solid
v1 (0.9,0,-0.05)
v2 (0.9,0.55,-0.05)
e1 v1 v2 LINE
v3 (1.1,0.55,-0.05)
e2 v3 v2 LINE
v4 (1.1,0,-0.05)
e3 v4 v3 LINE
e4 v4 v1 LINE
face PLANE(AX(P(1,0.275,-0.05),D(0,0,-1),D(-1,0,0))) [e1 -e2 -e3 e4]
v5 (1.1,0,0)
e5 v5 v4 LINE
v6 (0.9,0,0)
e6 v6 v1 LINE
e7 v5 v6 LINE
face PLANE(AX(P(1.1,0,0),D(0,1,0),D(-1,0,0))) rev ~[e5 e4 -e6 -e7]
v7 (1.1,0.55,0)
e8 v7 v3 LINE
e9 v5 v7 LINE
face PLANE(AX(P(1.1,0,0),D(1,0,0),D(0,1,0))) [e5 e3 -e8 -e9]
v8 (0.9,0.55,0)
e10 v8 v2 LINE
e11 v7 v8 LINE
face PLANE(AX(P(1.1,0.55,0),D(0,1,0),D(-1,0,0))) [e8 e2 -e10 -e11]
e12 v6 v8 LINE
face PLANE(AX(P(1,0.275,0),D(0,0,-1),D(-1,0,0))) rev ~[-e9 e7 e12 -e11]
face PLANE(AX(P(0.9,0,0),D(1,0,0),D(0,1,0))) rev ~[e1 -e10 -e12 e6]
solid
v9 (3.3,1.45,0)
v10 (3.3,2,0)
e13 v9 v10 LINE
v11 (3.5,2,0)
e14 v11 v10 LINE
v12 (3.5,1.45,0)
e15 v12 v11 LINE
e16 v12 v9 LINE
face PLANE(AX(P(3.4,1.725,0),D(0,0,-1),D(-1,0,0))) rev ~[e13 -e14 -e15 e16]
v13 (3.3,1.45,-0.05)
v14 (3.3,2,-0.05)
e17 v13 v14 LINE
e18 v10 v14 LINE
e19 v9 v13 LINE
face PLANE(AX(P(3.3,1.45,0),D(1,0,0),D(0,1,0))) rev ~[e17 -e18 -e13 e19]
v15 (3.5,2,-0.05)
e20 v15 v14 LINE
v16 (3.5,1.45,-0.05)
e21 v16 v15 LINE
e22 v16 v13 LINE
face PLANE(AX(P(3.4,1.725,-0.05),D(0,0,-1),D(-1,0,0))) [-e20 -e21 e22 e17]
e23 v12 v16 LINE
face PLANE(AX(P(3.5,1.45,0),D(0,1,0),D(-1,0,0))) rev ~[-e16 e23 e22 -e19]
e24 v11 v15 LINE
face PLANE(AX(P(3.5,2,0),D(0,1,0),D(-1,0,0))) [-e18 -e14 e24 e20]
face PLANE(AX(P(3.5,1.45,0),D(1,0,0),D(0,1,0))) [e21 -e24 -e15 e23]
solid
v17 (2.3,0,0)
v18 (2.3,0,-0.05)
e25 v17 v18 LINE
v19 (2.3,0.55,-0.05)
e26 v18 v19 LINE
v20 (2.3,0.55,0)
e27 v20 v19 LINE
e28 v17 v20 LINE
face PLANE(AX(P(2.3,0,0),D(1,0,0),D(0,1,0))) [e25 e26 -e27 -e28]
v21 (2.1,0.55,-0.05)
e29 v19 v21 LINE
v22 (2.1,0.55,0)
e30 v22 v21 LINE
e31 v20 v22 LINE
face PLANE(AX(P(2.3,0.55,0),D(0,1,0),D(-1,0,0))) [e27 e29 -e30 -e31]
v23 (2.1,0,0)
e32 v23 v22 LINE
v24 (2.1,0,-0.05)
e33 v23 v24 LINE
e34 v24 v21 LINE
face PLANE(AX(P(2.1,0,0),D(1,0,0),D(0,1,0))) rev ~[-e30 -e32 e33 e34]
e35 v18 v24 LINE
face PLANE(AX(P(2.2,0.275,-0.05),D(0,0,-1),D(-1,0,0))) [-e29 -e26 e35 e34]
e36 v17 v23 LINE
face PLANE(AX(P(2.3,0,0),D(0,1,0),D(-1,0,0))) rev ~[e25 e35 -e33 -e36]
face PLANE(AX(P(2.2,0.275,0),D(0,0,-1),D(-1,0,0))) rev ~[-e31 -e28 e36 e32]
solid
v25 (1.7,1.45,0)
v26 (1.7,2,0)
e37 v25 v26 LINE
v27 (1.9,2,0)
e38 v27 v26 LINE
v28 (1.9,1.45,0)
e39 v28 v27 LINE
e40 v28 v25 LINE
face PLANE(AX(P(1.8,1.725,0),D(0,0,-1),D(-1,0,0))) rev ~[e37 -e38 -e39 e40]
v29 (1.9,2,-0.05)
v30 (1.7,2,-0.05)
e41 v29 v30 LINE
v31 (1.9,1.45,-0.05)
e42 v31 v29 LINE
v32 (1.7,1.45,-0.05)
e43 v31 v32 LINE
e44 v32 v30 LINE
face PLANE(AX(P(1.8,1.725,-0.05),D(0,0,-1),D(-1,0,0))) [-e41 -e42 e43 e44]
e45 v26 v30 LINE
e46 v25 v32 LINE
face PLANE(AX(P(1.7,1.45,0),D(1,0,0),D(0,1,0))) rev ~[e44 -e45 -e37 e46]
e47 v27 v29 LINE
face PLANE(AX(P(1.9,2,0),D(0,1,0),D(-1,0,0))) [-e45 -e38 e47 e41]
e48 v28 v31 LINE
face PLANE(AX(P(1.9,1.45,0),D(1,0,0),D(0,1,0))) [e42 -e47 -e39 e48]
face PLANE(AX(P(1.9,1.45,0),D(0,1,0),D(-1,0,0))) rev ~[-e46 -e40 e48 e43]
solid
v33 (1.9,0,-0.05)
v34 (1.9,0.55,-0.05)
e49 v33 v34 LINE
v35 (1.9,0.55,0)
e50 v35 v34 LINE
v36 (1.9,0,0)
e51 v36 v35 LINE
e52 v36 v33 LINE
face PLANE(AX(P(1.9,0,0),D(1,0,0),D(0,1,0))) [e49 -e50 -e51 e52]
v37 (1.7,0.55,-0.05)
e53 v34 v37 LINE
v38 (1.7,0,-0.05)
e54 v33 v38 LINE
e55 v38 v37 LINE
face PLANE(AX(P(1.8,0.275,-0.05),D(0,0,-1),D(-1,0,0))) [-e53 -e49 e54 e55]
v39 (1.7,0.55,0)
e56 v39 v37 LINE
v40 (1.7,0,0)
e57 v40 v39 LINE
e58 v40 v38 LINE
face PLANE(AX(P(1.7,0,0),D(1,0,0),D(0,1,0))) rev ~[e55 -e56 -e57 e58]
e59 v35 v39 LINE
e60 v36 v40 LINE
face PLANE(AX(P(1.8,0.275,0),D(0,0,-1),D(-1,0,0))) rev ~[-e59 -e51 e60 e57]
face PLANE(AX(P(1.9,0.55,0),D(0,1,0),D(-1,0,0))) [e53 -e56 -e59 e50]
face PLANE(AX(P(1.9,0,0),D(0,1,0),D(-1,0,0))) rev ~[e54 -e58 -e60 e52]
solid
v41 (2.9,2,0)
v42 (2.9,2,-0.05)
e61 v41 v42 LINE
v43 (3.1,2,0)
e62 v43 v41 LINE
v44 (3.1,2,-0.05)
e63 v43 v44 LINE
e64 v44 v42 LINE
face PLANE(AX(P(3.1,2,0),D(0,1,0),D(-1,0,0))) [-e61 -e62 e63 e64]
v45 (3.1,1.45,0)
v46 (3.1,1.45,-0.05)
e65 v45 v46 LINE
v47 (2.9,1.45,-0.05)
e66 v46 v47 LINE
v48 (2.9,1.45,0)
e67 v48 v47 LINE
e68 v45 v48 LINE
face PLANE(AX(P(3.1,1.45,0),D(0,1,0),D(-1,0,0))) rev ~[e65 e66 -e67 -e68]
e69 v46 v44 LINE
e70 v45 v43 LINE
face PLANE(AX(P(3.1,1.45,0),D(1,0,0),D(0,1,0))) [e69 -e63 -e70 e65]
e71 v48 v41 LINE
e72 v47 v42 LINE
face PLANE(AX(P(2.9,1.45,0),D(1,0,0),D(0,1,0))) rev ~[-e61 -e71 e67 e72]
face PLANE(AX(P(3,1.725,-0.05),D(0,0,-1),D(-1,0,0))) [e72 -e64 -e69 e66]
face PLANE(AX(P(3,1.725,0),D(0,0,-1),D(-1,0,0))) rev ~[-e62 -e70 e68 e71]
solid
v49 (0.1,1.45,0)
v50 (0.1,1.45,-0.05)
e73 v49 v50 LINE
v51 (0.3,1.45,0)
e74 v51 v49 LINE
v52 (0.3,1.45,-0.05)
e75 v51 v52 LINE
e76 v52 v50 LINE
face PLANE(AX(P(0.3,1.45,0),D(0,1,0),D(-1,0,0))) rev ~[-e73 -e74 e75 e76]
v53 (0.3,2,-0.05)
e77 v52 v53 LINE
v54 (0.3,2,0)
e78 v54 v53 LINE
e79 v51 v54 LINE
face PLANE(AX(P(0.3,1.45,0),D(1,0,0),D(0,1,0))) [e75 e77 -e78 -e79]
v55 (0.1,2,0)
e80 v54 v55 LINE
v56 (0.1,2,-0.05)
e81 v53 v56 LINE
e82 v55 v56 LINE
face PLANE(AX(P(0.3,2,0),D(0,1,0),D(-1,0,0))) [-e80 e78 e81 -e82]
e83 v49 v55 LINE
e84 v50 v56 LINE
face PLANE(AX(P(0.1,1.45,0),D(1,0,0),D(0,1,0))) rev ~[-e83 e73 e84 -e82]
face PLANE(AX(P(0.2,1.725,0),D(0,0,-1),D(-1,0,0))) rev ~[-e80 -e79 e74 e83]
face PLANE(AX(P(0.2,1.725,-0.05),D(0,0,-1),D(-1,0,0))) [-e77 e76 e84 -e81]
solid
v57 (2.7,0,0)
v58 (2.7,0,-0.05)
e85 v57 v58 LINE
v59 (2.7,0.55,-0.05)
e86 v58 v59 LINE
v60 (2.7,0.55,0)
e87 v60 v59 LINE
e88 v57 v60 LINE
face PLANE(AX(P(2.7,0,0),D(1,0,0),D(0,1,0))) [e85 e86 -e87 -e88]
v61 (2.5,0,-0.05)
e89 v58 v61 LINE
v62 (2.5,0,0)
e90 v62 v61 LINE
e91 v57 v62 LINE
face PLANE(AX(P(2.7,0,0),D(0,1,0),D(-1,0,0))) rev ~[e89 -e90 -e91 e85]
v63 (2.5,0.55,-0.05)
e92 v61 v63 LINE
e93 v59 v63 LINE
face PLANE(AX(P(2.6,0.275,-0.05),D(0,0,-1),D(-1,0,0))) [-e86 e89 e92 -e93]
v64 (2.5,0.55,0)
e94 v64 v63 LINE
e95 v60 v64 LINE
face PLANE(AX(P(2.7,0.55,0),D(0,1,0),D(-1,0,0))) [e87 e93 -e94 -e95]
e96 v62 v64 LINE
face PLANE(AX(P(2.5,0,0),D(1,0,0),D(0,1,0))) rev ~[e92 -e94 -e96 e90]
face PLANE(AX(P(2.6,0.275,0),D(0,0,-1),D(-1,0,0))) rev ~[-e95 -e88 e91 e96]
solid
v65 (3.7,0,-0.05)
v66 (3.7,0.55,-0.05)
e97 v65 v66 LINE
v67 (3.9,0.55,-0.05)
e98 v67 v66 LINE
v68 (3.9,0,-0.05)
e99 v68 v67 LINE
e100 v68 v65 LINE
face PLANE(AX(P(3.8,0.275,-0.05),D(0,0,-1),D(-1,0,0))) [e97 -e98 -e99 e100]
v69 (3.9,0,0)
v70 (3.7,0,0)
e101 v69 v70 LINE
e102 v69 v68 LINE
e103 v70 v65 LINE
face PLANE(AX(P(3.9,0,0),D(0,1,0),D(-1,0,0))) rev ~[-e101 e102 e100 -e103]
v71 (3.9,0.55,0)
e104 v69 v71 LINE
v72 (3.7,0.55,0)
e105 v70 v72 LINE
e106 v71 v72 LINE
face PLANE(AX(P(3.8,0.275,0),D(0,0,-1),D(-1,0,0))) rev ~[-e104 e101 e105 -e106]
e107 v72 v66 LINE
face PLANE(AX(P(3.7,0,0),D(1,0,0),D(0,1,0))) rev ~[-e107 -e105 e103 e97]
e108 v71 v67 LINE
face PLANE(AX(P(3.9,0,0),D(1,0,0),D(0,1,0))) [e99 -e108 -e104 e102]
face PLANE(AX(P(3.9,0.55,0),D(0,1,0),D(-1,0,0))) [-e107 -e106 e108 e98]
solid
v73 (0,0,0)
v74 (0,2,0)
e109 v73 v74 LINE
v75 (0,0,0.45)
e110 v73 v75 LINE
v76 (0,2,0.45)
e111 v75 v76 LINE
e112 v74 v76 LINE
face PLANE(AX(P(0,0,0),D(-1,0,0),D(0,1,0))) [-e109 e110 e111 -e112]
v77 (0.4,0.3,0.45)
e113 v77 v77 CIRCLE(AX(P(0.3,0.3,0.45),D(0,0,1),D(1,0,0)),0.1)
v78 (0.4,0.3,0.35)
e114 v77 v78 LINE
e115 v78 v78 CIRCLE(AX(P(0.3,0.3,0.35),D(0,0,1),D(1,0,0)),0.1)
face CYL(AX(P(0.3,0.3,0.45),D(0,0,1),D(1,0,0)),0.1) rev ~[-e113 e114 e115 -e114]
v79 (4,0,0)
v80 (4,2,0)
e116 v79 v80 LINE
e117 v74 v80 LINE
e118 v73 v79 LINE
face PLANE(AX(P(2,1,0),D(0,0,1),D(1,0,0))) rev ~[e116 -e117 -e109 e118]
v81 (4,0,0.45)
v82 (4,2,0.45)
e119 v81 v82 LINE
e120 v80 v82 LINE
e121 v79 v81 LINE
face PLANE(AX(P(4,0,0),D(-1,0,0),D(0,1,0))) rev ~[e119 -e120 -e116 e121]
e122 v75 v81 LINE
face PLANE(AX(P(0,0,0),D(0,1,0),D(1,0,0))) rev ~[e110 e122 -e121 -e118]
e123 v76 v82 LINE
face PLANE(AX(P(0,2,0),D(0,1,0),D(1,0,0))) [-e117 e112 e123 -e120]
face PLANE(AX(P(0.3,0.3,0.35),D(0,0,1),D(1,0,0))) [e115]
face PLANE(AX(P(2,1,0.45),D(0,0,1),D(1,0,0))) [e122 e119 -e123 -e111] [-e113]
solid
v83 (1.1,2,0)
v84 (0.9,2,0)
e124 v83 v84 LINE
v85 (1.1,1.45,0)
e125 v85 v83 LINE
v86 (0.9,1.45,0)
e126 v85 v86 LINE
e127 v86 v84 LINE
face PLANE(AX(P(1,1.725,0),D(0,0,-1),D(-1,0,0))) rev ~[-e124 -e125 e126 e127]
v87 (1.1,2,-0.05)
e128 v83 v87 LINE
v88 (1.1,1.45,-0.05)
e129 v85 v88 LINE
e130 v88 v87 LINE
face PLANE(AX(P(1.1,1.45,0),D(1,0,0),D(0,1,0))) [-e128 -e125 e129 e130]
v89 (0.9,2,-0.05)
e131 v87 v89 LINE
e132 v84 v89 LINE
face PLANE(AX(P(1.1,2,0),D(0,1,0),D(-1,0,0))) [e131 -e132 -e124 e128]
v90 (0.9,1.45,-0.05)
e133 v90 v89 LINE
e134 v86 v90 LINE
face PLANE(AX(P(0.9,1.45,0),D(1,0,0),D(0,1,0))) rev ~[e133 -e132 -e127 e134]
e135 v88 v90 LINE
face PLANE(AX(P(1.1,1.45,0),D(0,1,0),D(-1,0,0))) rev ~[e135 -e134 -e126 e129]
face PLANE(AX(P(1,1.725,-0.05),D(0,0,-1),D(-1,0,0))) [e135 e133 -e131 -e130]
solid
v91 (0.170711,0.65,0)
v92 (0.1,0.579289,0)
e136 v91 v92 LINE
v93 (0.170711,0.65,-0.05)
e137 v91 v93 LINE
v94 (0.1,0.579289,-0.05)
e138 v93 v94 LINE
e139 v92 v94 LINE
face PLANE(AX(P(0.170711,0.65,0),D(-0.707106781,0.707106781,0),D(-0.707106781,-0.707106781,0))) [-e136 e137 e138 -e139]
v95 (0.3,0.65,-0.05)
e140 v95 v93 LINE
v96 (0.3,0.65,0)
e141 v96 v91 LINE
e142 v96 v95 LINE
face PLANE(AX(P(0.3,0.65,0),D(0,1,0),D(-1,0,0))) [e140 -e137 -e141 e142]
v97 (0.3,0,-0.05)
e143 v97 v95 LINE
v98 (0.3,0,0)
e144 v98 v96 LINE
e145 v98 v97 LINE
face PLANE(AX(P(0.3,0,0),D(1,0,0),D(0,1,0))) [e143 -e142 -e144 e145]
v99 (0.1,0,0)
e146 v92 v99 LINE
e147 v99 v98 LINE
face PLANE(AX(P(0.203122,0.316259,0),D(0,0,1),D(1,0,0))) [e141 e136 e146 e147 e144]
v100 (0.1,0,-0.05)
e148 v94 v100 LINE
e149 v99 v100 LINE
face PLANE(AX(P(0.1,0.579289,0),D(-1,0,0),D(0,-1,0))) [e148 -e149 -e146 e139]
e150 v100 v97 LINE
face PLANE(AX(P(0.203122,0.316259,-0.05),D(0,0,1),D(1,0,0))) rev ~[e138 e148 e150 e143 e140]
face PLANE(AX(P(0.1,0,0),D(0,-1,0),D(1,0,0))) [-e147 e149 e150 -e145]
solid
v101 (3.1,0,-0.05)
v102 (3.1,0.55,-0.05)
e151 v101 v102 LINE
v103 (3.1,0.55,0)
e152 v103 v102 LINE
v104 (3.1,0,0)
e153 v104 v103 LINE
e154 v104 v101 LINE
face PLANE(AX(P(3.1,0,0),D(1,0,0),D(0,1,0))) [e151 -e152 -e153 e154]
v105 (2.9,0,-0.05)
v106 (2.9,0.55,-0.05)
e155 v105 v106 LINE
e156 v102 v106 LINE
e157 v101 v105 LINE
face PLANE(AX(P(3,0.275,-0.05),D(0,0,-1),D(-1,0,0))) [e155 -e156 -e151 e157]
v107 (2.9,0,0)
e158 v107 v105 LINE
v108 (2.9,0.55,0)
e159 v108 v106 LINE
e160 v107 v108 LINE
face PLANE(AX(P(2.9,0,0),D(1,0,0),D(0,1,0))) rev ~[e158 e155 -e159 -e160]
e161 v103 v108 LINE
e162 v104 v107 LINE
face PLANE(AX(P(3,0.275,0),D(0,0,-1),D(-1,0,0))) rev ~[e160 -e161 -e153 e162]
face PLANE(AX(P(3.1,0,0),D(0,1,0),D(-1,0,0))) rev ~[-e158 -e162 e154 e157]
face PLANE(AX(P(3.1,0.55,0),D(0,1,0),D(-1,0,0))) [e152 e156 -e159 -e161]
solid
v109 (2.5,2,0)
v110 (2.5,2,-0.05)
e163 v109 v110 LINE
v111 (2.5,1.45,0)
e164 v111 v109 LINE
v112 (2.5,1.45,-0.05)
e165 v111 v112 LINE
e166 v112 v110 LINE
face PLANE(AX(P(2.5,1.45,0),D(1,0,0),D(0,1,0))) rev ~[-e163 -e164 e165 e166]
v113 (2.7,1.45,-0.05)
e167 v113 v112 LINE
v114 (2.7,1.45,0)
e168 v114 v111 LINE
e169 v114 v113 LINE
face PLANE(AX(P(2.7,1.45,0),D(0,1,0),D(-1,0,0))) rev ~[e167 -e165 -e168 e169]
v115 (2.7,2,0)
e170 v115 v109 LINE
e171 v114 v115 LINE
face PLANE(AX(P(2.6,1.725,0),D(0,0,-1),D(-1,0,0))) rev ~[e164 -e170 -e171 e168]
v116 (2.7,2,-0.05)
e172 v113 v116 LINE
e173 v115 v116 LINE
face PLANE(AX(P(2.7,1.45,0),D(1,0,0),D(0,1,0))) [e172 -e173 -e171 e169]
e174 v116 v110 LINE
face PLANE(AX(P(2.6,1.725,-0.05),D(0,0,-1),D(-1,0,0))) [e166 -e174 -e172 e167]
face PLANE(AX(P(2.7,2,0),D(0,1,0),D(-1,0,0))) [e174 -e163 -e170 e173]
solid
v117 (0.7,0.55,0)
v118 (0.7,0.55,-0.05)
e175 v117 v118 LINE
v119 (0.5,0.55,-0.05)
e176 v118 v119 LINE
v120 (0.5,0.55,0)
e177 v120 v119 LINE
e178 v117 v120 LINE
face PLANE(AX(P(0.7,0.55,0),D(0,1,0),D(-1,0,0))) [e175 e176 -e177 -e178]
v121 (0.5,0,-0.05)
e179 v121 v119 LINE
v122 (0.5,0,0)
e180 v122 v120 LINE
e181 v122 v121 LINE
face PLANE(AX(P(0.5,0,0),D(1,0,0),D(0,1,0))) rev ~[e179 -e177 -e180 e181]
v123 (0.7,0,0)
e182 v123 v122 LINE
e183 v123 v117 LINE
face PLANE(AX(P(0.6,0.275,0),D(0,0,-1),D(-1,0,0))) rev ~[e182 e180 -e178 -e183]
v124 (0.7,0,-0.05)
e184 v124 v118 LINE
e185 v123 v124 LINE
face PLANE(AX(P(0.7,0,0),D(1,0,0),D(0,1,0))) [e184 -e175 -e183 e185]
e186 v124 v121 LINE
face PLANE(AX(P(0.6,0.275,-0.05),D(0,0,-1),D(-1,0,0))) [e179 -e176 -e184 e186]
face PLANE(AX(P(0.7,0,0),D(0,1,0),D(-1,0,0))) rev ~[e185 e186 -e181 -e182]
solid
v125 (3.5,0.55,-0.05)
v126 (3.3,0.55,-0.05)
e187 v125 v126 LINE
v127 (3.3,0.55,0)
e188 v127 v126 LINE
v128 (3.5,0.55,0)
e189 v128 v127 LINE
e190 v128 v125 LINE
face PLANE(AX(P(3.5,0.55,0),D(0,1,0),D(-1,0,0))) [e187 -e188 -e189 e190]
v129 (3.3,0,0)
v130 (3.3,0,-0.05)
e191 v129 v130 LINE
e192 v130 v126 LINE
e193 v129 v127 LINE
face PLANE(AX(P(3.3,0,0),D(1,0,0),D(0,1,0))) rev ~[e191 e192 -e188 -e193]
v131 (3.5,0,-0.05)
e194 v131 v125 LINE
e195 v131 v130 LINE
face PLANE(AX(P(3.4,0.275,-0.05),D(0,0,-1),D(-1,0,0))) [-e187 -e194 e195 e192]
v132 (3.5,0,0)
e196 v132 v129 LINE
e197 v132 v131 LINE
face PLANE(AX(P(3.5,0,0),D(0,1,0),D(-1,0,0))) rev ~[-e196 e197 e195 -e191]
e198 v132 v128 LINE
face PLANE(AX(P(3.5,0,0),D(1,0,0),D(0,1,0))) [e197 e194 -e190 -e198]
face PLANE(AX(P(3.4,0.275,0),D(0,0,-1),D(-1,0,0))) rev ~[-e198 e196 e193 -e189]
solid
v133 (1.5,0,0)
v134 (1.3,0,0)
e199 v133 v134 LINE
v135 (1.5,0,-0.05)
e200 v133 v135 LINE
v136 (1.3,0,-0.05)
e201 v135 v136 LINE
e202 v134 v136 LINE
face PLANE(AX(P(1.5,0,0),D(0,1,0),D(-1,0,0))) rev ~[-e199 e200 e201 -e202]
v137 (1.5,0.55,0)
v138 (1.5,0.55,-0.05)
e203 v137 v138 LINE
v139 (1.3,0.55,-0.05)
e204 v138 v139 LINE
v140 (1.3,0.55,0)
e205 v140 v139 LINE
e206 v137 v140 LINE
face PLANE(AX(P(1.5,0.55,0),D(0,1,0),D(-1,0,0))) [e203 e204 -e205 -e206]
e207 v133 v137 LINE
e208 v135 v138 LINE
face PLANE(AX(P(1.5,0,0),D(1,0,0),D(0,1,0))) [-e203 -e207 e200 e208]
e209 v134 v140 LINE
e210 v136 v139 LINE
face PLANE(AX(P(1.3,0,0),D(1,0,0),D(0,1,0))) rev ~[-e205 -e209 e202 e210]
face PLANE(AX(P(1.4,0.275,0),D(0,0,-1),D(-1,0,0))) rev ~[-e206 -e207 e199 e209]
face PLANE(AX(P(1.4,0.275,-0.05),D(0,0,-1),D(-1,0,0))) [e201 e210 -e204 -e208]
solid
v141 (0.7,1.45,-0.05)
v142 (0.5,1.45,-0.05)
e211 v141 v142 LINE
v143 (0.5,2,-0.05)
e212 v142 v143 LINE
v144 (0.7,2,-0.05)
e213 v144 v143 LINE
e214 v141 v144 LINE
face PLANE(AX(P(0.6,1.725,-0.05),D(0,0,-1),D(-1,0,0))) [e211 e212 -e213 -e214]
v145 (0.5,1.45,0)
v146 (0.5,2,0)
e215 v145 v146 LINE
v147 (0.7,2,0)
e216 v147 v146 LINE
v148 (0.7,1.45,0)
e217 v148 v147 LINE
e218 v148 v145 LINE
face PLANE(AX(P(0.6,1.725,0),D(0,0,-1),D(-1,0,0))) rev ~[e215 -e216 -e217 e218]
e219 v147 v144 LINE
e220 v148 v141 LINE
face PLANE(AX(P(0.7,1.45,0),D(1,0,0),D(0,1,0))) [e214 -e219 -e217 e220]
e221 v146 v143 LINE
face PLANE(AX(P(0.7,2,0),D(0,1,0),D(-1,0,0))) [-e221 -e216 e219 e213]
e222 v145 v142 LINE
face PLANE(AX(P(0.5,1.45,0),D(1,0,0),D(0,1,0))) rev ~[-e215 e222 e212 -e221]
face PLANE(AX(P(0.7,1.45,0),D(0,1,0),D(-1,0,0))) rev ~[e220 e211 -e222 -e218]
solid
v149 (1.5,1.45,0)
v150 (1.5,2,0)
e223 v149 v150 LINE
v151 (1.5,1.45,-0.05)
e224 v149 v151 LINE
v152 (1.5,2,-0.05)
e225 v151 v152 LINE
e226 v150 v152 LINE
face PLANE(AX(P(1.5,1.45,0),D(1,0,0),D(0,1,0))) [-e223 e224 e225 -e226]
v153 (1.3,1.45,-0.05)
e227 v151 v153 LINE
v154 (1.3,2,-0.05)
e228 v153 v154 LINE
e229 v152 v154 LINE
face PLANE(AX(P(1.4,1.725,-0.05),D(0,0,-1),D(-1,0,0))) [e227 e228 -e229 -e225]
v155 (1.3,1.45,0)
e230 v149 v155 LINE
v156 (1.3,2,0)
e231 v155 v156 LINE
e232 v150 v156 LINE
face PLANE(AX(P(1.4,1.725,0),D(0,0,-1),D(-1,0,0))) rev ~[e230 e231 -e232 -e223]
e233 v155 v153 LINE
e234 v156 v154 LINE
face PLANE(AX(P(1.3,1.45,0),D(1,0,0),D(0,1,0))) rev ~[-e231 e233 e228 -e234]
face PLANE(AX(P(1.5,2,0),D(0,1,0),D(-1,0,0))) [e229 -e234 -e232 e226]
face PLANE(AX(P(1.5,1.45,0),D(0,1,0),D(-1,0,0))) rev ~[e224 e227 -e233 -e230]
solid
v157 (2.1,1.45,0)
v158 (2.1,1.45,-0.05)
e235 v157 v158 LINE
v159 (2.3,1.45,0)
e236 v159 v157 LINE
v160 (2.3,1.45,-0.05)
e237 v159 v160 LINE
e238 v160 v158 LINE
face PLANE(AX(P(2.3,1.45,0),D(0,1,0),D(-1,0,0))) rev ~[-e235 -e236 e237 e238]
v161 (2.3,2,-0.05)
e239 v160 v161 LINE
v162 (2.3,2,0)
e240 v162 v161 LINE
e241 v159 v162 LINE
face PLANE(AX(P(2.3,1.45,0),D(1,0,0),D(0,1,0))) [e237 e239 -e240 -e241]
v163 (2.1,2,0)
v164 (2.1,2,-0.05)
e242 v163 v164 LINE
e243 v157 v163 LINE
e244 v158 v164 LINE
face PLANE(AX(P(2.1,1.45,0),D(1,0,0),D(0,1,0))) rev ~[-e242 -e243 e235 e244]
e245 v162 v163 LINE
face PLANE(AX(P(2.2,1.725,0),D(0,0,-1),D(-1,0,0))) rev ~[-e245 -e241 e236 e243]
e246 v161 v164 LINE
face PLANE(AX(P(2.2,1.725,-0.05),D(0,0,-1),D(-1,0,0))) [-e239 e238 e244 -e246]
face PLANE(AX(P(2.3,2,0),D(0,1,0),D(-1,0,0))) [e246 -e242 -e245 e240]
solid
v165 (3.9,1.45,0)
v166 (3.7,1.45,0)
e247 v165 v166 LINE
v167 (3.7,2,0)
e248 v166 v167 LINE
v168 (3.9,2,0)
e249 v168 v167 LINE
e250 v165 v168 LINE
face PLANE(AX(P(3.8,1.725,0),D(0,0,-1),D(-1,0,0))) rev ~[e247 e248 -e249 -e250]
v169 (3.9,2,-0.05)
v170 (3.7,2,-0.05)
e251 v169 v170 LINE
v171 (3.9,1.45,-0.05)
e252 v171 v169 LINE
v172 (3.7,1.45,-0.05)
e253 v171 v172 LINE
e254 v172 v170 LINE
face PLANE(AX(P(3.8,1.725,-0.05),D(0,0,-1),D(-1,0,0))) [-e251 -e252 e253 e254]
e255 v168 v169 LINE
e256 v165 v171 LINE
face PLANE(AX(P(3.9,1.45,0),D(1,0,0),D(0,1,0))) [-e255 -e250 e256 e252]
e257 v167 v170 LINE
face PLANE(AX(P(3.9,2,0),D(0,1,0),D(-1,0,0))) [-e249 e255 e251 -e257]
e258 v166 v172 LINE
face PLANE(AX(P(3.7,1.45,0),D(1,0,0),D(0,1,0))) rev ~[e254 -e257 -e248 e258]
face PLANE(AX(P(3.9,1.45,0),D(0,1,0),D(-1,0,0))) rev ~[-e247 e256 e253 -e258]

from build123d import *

# Parameters (mm, degrees)
SKETCH1_W              = 4
SKETCH1_H              = 2
BOSS_EXTRUDE1_DEPTH    = 0.45
SKETCH2_W              = 0.2
SKETCH2_H              = 0.55
BOSS_EXTRUDE2_DEPTH    = 0.05
BOSS_EXTRUDE2_2_DEPTH  = 0.05
BOSS_EXTRUDE2_3_DEPTH  = 0.05
BOSS_EXTRUDE2_4_DEPTH  = 0.05
BOSS_EXTRUDE2_5_DEPTH  = 0.05
BOSS_EXTRUDE2_6_DEPTH  = 0.05
BOSS_EXTRUDE2_7_DEPTH  = 0.05
BOSS_EXTRUDE2_8_DEPTH  = 0.05
BOSS_EXTRUDE2_9_DEPTH  = 0.05
BOSS_EXTRUDE2_10_DEPTH = 0.05
BOSS_EXTRUDE2_11_DEPTH = 0.05
BOSS_EXTRUDE2_12_DEPTH = 0.05
BOSS_EXTRUDE2_13_DEPTH = 0.05
BOSS_EXTRUDE2_14_DEPTH = 0.05
BOSS_EXTRUDE2_15_DEPTH = 0.05
BOSS_EXTRUDE2_16_DEPTH = 0.05
BOSS_EXTRUDE2_17_DEPTH = 0.05
BOSS_EXTRUDE2_18_DEPTH = 0.05
BOSS_EXTRUDE2_19_DEPTH = 0.05
BOSS_EXTRUDE2_20_DEPTH = 0.05
SKETCH3_R              = 0.1
CUT_EXTRUDE1_DEPTH     = 0.1


with BuildPart() as part:
    # Sketch1 → Boss-Extrude1 (new body)
    with BuildSketch(Plane.XY):
        with Locations((2, 1)):
            Rectangle(SKETCH1_W, SKETCH1_H)
    extrude(amount=BOSS_EXTRUDE1_DEPTH)

    # Sketch3 → Cut-Extrude1 (cut)
    with BuildSketch(Plane.XY.offset(0.45)):
        with Locations((0.3, 0.3)):
            Circle(SKETCH3_R)
    extrude(amount=-CUT_EXTRUDE1_DEPTH, mode=Mode.SUBTRACT)


with BuildPart() as body_2:
    # Sketch2 → Boss-Extrude2 (new body)
    with BuildSketch(Plane(origin=(0, 0, 0), x_dir=(-1, 0, 0), z_dir=(0, 0, -1))):
        with Locations((-3.8, 1.725)):
            Rectangle(SKETCH2_W, SKETCH2_H)
    extrude(amount=BOSS_EXTRUDE2_DEPTH)


with BuildPart() as body_3:
    # Sketch2 → Boss-Extrude2 2 (new body)
    with BuildSketch(Plane(origin=(0, 0, 0), x_dir=(-1, 0, 0), z_dir=(0, 0, -1))):
        with Locations((-3.4, 1.725)):
            Rectangle(SKETCH2_W, SKETCH2_H)
    extrude(amount=BOSS_EXTRUDE2_2_DEPTH)


with BuildPart() as body_4:
    # Sketch2 → Boss-Extrude2 3 (new body)
    with BuildSketch(Plane(origin=(0, 0, 0), x_dir=(-1, 0, 0), z_dir=(0, 0, -1))):
        with Locations((-3, 1.725)):
            Rectangle(SKETCH2_W, SKETCH2_H)
    extrude(amount=BOSS_EXTRUDE2_3_DEPTH)


with BuildPart() as body_5:
    # Sketch2 → Boss-Extrude2 4 (new body)
    with BuildSketch(Plane(origin=(0, 0, 0), x_dir=(-1, 0, 0), z_dir=(0, 0, -1))):
        with Locations((-2.6, 1.725)):
            Rectangle(SKETCH2_W, SKETCH2_H)
    extrude(amount=BOSS_EXTRUDE2_4_DEPTH)


with BuildPart() as body_6:
    # Sketch2 → Boss-Extrude2 5 (new body)
    with BuildSketch(Plane(origin=(0, 0, 0), x_dir=(-1, 0, 0), z_dir=(0, 0, -1))):
        with Locations((-2.2, 1.725)):
            Rectangle(SKETCH2_W, SKETCH2_H)
    extrude(amount=BOSS_EXTRUDE2_5_DEPTH)


with BuildPart() as body_7:
    # Sketch2 → Boss-Extrude2 6 (new body)
    with BuildSketch(Plane(origin=(0, 0, 0), x_dir=(-1, 0, 0), z_dir=(0, 0, -1))):
        with Locations((-1.8, 1.725)):
            Rectangle(SKETCH2_W, SKETCH2_H)
    extrude(amount=BOSS_EXTRUDE2_6_DEPTH)


with BuildPart() as body_8:
    # Sketch2 → Boss-Extrude2 7 (new body)
    with BuildSketch(Plane(origin=(0, 0, 0), x_dir=(-1, 0, 0), z_dir=(0, 0, -1))):
        with Locations((-1.4, 1.725)):
            Rectangle(SKETCH2_W, SKETCH2_H)
    extrude(amount=BOSS_EXTRUDE2_7_DEPTH)


with BuildPart() as body_9:
    # Sketch2 → Boss-Extrude2 8 (new body)
    with BuildSketch(Plane(origin=(0, 0, 0), x_dir=(-1, 0, 0), z_dir=(0, 0, -1))):
        with Locations((-1, 1.725)):
            Rectangle(SKETCH2_W, SKETCH2_H)
    extrude(amount=BOSS_EXTRUDE2_8_DEPTH)


with BuildPart() as body_10:
    # Sketch2 → Boss-Extrude2 9 (new body)
    with BuildSketch(Plane(origin=(0, 0, 0), x_dir=(-1, 0, 0), z_dir=(0, 0, -1))):
        with Locations((-0.6, 1.725)):
            Rectangle(SKETCH2_W, SKETCH2_H)
    extrude(amount=BOSS_EXTRUDE2_9_DEPTH)


with BuildPart() as body_11:
    # Sketch2 → Boss-Extrude2 10 (new body)
    with BuildSketch(Plane(origin=(0, 0, 0), x_dir=(-1, 0, 0), z_dir=(0, 0, -1))):
        with Locations((-0.2, 1.725)):
            Rectangle(SKETCH2_W, SKETCH2_H)
    extrude(amount=BOSS_EXTRUDE2_10_DEPTH)


with BuildPart() as body_12:
    # Sketch2 → Boss-Extrude2 11 (new body)
    with BuildSketch(Plane(origin=(0, 0, 0), x_dir=(-1, 0, 0), z_dir=(0, 0, -1))):
        Polygon((-0.3, 0), (-0.3, 0.65), (-0.170710678, 0.65), (-0.1, 0.579289322), (-0.1, 0), align=None)
    extrude(amount=BOSS_EXTRUDE2_11_DEPTH)


with BuildPart() as body_13:
    # Sketch2 → Boss-Extrude2 12 (new body)
    with BuildSketch(Plane(origin=(0, 0, 0), x_dir=(-1, 0, 0), z_dir=(0, 0, -1))):
        with Locations((-0.6, 0.275)):
            Rectangle(SKETCH2_W, SKETCH2_H)
    extrude(amount=BOSS_EXTRUDE2_12_DEPTH)


with BuildPart() as body_14:
    # Sketch2 → Boss-Extrude2 13 (new body)
    with BuildSketch(Plane(origin=(0, 0, 0), x_dir=(-1, 0, 0), z_dir=(0, 0, -1))):
        with Locations((-1, 0.275)):
            Rectangle(SKETCH2_W, SKETCH2_H)
    extrude(amount=BOSS_EXTRUDE2_13_DEPTH)


with BuildPart() as body_15:
    # Sketch2 → Boss-Extrude2 14 (new body)
    with BuildSketch(Plane(origin=(0, 0, 0), x_dir=(-1, 0, 0), z_dir=(0, 0, -1))):
        with Locations((-1.4, 0.275)):
            Rectangle(SKETCH2_W, SKETCH2_H)
    extrude(amount=BOSS_EXTRUDE2_14_DEPTH)


with BuildPart() as body_16:
    # Sketch2 → Boss-Extrude2 15 (new body)
    with BuildSketch(Plane(origin=(0, 0, 0), x_dir=(-1, 0, 0), z_dir=(0, 0, -1))):
        with Locations((-1.8, 0.275)):
            Rectangle(SKETCH2_W, SKETCH2_H)
    extrude(amount=BOSS_EXTRUDE2_15_DEPTH)


with BuildPart() as body_17:
    # Sketch2 → Boss-Extrude2 16 (new body)
    with BuildSketch(Plane(origin=(0, 0, 0), x_dir=(-1, 0, 0), z_dir=(0, 0, -1))):
        with Locations((-2.2, 0.275)):
            Rectangle(SKETCH2_W, SKETCH2_H)
    extrude(amount=BOSS_EXTRUDE2_16_DEPTH)


with BuildPart() as body_18:
    # Sketch2 → Boss-Extrude2 17 (new body)
    with BuildSketch(Plane(origin=(0, 0, 0), x_dir=(-1, 0, 0), z_dir=(0, 0, -1))):
        with Locations((-2.6, 0.275)):
            Rectangle(SKETCH2_W, SKETCH2_H)
    extrude(amount=BOSS_EXTRUDE2_17_DEPTH)


with BuildPart() as body_19:
    # Sketch2 → Boss-Extrude2 18 (new body)
    with BuildSketch(Plane(origin=(0, 0, 0), x_dir=(-1, 0, 0), z_dir=(0, 0, -1))):
        with Locations((-3, 0.275)):
            Rectangle(SKETCH2_W, SKETCH2_H)
    extrude(amount=BOSS_EXTRUDE2_18_DEPTH)


with BuildPart() as body_20:
    # Sketch2 → Boss-Extrude2 19 (new body)
    with BuildSketch(Plane(origin=(0, 0, 0), x_dir=(-1, 0, 0), z_dir=(0, 0, -1))):
        with Locations((-3.4, 0.275)):
            Rectangle(SKETCH2_W, SKETCH2_H)
    extrude(amount=BOSS_EXTRUDE2_19_DEPTH)


with BuildPart() as body_21:
    # Sketch2 → Boss-Extrude2 20 (new body)
    with BuildSketch(Plane(origin=(0, 0, 0), x_dir=(-1, 0, 0), z_dir=(0, 0, -1))):
        with Locations((-3.8, 0.275)):
            Rectangle(SKETCH2_W, SKETCH2_H)
    extrude(amount=BOSS_EXTRUDE2_20_DEPTH)


solid = Compound([part.part, body_2.part, body_3.part, body_4.part, body_5.part, body_6.part, body_7.part, body_8.part, body_9.part, body_10.part, body_11.part, body_12.part, body_13.part, body_14.part, body_15.part, body_16.part, body_17.part, body_18.part, body_19.part, body_20.part, body_21.part])
